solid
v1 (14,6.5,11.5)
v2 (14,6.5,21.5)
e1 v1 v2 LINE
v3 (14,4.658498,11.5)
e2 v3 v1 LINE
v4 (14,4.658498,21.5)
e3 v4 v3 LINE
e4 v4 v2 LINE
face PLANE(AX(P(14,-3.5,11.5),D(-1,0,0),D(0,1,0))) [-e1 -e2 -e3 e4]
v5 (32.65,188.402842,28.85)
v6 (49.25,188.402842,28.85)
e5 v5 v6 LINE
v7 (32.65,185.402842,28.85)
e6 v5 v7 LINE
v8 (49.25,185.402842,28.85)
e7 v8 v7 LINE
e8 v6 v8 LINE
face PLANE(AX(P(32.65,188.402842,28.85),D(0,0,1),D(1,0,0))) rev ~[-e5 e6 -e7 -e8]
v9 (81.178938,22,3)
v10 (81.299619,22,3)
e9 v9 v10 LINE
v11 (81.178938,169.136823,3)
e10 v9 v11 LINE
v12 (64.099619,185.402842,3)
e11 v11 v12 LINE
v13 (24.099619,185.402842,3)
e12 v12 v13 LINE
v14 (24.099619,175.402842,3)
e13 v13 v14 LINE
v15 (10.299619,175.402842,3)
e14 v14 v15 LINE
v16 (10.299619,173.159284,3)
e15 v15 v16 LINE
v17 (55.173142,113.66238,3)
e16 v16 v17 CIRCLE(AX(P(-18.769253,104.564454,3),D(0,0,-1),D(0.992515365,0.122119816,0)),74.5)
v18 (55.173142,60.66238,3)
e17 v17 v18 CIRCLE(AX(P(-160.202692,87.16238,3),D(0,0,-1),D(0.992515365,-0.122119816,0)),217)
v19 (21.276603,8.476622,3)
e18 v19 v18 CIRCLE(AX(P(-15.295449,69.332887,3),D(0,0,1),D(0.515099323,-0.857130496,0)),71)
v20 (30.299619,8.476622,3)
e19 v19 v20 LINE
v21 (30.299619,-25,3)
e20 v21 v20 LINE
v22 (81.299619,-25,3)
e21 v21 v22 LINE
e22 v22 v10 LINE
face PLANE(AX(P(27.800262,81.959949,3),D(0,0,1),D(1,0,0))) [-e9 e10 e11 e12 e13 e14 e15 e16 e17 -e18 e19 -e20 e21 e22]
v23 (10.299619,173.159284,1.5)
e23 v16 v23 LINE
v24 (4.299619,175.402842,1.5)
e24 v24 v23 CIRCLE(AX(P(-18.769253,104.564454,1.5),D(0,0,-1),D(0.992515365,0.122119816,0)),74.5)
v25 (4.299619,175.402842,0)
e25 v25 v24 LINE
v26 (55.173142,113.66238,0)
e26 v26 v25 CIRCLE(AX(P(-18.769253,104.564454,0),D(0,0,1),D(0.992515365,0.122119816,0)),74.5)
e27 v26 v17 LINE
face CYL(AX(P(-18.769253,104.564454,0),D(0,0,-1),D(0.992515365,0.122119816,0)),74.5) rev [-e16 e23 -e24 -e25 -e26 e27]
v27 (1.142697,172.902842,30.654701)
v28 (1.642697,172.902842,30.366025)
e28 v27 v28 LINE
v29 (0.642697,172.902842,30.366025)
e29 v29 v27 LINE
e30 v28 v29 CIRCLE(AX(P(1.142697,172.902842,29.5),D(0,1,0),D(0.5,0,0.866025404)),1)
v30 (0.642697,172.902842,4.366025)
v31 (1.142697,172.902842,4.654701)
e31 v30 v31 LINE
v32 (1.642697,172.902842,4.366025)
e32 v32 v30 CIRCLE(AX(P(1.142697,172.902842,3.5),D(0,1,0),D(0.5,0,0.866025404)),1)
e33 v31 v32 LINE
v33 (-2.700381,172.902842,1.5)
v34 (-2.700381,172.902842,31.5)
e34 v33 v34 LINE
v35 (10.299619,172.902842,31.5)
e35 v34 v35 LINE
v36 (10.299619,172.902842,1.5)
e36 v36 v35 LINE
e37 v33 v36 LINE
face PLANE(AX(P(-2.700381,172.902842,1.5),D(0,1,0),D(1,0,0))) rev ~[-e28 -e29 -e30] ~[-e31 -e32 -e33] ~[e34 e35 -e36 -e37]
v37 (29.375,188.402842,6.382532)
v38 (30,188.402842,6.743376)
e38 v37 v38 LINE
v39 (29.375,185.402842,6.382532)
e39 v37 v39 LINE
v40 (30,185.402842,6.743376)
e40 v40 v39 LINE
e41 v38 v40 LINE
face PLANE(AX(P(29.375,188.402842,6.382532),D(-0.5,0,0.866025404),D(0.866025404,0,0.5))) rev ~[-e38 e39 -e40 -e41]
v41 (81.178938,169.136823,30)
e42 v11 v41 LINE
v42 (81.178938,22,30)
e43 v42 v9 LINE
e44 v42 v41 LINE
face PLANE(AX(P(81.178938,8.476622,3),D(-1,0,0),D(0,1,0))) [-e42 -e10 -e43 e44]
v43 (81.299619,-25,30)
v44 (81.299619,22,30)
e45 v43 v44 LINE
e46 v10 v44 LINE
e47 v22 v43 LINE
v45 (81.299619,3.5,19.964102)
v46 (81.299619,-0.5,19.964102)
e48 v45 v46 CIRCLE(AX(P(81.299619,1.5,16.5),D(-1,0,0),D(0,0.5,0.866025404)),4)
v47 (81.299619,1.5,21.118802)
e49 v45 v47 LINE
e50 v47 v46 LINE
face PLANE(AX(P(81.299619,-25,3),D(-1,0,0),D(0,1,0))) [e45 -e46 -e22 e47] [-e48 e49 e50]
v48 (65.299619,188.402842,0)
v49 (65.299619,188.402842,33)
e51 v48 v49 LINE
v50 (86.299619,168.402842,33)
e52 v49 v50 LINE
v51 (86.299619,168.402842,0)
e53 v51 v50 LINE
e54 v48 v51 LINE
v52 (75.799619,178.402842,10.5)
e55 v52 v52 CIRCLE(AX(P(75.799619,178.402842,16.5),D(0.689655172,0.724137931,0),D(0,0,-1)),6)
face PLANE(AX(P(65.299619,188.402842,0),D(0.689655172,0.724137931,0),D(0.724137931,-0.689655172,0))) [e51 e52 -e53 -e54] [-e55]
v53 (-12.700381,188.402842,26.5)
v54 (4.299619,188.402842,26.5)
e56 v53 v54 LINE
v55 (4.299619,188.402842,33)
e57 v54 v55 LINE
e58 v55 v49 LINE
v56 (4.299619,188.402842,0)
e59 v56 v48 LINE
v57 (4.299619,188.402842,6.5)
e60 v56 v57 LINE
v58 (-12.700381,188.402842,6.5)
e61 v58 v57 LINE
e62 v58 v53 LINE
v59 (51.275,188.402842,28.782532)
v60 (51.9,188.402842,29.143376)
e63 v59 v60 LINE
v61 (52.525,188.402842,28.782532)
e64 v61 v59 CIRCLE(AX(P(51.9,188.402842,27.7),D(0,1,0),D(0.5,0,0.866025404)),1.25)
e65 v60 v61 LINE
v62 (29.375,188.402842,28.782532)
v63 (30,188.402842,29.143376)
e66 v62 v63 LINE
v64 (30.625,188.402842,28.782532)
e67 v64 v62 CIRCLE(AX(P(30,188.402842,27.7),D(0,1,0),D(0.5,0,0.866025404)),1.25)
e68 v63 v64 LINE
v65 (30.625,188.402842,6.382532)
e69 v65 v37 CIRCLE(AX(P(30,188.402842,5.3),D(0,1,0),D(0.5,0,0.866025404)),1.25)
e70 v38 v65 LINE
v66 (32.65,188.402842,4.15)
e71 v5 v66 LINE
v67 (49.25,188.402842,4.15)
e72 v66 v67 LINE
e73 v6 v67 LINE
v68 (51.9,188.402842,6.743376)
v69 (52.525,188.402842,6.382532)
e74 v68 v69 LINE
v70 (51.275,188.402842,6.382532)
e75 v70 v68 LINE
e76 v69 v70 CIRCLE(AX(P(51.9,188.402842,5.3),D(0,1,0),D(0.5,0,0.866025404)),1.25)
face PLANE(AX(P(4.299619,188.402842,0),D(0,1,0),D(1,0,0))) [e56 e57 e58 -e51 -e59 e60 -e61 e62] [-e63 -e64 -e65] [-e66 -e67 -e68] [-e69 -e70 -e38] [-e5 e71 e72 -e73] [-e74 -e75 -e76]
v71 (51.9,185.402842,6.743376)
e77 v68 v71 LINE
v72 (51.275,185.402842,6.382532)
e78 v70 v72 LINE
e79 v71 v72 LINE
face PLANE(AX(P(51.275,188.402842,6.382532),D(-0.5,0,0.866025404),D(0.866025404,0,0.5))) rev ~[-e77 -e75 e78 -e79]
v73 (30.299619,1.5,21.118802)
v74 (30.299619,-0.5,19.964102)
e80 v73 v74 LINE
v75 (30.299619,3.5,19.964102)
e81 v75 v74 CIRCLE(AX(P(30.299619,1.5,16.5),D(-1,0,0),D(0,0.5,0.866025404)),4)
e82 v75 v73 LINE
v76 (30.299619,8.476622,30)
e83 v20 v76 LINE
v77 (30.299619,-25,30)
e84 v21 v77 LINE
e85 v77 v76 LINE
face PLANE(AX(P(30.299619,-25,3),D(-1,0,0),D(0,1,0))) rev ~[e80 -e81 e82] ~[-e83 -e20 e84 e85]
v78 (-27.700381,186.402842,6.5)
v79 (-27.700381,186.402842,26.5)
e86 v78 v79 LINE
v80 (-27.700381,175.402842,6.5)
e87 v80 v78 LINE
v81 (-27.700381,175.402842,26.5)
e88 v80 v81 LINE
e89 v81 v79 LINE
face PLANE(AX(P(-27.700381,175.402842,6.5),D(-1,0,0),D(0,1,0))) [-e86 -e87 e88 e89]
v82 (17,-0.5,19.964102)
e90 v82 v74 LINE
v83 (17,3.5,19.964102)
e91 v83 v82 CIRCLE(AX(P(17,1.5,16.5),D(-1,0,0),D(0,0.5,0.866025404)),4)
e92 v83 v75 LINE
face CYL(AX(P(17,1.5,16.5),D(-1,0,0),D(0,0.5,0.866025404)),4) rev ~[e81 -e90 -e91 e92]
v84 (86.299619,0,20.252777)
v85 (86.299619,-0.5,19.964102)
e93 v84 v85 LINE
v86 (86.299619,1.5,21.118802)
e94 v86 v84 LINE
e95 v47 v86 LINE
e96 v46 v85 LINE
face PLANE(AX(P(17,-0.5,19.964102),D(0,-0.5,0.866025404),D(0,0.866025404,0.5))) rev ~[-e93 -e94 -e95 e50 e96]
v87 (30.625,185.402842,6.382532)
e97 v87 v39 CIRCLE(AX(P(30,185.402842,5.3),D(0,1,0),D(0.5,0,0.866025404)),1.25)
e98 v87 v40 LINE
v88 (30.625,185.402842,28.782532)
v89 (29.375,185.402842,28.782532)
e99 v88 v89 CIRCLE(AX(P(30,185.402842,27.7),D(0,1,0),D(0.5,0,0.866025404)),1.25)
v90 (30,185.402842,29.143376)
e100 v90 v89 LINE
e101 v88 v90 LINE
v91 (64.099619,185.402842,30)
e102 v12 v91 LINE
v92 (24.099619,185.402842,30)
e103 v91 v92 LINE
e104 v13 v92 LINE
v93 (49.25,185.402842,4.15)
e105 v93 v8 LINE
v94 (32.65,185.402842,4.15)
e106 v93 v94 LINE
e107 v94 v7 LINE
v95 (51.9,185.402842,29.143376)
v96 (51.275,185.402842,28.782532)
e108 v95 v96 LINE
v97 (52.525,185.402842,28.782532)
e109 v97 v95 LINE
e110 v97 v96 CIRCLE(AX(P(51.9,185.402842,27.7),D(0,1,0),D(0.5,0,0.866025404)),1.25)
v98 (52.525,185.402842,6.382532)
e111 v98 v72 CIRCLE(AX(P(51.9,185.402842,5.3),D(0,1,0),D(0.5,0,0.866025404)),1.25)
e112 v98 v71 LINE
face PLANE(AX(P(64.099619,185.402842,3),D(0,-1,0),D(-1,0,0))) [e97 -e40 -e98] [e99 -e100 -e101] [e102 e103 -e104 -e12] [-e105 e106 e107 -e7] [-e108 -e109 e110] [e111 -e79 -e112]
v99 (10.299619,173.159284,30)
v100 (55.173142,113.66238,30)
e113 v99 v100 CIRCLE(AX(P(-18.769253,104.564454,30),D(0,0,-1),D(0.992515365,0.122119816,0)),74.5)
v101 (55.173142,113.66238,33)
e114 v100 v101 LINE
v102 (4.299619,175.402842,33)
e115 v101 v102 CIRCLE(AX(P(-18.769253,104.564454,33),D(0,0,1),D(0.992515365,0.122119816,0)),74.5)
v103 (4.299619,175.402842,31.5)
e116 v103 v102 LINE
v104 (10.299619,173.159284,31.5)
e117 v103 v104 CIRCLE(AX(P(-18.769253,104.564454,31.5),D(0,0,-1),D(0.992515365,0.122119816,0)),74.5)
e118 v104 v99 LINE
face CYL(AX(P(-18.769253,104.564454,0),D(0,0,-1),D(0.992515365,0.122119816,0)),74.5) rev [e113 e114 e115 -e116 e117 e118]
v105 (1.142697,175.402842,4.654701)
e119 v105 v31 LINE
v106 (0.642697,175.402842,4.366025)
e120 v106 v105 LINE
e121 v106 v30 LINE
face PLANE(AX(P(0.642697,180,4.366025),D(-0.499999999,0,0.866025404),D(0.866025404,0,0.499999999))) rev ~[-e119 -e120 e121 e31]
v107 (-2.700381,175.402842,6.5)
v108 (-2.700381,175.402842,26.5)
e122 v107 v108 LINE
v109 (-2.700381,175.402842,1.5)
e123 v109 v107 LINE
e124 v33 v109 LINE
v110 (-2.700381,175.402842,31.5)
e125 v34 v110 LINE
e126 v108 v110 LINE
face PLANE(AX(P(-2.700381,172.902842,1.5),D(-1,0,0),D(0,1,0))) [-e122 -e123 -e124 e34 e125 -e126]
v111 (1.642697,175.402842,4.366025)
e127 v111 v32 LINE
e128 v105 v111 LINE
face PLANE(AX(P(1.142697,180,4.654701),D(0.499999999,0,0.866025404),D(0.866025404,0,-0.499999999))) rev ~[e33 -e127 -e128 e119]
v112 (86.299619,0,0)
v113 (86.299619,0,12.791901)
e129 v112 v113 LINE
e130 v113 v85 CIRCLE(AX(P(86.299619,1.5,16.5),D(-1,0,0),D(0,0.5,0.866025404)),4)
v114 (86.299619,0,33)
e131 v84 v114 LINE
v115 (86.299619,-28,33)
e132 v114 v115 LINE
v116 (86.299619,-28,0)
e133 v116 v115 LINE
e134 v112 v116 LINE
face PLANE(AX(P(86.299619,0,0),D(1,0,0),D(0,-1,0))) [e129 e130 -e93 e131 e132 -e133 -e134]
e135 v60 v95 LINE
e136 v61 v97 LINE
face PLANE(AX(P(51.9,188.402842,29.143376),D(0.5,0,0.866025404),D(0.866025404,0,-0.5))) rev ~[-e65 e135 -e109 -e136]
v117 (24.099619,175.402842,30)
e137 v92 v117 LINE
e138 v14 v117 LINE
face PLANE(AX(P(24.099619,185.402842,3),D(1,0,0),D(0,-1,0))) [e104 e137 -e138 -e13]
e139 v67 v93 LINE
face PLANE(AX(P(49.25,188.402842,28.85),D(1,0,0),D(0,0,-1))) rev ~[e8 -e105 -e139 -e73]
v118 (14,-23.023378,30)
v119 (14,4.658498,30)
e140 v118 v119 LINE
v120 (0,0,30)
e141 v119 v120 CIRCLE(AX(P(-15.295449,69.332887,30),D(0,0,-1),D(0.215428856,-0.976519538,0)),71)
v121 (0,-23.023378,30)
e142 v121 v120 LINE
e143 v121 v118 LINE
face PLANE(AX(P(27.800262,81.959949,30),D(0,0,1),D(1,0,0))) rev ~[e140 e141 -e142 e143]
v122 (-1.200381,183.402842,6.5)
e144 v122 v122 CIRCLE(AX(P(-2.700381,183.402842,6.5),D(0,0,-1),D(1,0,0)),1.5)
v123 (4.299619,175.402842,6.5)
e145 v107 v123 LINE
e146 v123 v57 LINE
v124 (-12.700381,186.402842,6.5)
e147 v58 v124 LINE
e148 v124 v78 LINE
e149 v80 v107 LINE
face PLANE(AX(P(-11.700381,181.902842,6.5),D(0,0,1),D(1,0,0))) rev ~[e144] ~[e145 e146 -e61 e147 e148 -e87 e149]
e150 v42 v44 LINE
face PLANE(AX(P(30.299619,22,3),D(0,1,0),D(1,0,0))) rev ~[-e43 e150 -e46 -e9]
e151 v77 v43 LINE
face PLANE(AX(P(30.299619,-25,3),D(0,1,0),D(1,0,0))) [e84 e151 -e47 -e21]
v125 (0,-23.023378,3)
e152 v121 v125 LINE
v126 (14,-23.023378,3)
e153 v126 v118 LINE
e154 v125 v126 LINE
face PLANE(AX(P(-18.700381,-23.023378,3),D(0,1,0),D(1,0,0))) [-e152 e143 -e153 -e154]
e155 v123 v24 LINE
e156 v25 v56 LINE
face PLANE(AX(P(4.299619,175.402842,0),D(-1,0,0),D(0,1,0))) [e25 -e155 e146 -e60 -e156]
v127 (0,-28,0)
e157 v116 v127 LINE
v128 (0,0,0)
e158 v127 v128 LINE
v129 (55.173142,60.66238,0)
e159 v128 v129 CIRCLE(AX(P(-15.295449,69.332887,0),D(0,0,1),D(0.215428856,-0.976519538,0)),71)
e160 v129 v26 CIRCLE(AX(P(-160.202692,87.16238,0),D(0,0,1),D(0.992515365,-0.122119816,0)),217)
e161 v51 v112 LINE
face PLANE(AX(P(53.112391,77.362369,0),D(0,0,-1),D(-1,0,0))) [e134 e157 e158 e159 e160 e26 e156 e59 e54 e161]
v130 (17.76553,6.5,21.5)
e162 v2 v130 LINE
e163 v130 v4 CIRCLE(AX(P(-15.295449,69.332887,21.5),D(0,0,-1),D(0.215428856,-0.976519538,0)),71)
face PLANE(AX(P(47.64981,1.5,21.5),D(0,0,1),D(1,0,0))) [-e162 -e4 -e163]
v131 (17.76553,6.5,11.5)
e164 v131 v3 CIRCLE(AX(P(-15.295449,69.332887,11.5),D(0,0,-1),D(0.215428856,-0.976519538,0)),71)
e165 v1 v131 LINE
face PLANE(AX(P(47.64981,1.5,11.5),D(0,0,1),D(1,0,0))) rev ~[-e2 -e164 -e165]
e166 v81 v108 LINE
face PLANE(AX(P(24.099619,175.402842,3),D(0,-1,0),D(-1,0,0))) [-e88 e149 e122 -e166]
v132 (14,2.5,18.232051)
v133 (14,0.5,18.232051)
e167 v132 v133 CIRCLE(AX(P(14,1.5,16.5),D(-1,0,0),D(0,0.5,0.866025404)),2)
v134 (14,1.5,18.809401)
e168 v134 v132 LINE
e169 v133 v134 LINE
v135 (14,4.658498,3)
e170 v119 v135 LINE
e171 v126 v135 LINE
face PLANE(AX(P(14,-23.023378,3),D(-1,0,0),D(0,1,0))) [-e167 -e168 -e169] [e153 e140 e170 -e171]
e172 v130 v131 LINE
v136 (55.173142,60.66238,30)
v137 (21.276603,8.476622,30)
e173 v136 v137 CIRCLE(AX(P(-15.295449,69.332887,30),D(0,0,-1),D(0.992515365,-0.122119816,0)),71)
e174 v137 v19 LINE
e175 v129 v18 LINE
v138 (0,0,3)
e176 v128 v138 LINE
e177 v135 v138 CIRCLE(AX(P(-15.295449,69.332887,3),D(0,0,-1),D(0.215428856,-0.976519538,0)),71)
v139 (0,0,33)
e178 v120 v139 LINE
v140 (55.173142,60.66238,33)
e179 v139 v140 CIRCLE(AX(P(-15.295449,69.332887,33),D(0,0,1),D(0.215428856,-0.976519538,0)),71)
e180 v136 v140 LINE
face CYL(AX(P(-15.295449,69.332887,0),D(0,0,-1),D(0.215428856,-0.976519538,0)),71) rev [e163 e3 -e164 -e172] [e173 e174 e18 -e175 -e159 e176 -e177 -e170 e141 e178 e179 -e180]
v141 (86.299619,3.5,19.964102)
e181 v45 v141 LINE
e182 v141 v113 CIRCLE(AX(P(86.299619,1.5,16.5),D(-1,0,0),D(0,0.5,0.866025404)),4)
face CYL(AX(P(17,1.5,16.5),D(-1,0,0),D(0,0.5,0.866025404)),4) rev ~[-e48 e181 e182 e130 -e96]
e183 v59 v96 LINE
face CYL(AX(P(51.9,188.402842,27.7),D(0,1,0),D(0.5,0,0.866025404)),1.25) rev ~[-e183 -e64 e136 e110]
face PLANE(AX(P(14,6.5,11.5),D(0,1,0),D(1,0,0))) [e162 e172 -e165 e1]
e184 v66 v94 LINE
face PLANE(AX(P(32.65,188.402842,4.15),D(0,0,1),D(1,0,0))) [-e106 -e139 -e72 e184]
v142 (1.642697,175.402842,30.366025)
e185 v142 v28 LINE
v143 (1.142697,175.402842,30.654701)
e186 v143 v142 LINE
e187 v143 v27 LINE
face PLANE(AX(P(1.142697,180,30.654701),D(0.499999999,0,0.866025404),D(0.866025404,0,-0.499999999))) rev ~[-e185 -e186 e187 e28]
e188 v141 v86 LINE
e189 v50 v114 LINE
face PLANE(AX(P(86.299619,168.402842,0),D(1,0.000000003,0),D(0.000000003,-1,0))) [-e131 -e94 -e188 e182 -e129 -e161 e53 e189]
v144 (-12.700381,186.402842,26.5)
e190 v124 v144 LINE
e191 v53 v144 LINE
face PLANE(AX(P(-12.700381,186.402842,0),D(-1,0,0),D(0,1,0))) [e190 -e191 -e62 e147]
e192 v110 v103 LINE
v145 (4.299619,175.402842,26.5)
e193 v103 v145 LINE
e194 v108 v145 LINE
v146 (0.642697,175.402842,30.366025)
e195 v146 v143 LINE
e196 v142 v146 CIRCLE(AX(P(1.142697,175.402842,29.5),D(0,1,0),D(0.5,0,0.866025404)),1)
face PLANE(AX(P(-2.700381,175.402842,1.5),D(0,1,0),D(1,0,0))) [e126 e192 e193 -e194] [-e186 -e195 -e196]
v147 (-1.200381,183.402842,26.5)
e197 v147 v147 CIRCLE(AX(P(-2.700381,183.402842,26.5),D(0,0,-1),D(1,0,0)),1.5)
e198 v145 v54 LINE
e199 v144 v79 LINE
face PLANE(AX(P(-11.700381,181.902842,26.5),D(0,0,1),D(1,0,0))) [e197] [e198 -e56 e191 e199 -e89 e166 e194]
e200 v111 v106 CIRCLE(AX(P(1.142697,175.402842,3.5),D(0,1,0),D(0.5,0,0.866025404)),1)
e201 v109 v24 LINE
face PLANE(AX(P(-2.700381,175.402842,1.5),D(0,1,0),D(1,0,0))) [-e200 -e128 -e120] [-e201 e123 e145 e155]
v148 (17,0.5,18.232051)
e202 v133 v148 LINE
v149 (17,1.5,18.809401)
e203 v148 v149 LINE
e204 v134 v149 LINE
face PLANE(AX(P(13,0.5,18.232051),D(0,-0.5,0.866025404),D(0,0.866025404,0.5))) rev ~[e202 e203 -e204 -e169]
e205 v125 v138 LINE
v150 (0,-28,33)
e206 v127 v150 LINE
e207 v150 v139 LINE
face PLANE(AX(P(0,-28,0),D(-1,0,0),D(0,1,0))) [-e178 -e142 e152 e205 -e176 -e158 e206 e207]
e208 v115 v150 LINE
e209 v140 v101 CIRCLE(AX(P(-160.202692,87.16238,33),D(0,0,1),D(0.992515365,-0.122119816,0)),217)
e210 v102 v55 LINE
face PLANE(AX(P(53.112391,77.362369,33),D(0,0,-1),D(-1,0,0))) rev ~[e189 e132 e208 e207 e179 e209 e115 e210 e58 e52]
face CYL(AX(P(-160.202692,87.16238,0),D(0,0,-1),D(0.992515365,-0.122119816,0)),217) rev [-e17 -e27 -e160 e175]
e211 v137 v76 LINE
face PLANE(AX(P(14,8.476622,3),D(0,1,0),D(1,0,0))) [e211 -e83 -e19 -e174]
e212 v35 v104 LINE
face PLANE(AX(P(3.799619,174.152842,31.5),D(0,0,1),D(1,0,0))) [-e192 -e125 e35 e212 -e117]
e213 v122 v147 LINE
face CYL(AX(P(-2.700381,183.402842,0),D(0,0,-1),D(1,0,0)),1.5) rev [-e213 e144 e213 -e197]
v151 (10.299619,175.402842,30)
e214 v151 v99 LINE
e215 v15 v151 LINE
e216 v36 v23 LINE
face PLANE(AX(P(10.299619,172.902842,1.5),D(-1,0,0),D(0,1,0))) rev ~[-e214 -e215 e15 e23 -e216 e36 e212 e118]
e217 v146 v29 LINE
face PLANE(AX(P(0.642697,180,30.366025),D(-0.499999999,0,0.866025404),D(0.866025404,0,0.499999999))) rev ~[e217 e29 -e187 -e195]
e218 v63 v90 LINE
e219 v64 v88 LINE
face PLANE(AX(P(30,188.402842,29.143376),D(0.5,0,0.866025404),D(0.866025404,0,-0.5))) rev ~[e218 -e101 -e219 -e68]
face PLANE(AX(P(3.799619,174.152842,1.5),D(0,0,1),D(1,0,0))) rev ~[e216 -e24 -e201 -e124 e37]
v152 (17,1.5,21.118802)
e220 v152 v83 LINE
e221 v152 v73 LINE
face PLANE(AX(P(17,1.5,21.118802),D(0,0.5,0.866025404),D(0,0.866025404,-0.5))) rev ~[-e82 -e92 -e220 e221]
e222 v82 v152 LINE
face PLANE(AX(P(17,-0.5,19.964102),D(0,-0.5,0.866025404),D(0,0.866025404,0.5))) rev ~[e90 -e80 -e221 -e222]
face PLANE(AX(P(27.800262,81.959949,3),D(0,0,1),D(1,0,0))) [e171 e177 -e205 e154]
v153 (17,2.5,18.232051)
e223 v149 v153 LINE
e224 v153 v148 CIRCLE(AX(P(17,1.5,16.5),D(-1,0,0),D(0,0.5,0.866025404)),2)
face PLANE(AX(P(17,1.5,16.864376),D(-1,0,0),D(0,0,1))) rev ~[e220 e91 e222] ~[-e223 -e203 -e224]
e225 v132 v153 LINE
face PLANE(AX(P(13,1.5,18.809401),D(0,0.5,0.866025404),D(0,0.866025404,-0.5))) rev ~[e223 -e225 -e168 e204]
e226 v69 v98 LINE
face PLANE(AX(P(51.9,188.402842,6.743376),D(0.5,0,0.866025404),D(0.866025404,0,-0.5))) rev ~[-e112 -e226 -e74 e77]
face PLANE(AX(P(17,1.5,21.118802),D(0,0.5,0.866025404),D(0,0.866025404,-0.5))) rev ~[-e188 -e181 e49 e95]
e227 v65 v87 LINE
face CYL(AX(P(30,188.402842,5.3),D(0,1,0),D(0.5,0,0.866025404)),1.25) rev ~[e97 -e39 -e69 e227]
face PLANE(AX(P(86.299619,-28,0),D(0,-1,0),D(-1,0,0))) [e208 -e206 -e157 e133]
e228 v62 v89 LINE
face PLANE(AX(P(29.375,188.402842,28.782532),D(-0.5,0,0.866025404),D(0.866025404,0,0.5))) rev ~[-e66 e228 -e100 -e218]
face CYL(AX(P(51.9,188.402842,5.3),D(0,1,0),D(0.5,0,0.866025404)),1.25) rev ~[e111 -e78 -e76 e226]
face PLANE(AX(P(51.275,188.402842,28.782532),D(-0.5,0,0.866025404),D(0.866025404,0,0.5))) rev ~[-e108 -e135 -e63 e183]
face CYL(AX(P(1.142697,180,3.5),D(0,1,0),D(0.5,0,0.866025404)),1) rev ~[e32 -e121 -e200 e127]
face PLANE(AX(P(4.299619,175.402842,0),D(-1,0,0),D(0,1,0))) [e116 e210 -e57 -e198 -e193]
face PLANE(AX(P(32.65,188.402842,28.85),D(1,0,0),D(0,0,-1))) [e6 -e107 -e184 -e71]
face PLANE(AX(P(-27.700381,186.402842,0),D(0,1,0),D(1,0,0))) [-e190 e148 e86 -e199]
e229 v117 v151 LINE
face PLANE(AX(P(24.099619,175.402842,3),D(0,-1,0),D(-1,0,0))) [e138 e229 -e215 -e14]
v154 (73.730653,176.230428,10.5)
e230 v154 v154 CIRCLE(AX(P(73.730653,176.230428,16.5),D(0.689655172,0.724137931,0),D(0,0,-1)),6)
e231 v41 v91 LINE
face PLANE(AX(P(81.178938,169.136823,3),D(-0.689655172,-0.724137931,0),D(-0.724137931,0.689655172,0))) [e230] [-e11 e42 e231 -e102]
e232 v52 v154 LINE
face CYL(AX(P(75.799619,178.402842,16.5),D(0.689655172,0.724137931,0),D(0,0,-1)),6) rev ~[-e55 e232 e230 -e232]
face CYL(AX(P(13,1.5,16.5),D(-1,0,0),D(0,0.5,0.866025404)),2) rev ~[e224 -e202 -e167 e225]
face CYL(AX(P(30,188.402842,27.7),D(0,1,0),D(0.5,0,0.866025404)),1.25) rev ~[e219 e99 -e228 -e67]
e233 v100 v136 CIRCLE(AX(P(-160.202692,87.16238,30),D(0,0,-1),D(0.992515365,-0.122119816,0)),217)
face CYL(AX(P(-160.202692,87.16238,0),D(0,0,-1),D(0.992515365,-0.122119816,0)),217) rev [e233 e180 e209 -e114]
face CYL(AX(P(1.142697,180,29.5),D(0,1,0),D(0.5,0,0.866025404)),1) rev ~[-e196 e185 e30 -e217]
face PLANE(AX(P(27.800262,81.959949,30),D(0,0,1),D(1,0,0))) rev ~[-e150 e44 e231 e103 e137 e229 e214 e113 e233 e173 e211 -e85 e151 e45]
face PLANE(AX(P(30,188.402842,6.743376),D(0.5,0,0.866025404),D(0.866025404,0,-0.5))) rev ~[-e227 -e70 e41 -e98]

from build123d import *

# Parameters (mm, degrees)
EXTRUDE_6_DEPTH      = 33
CUT_EXTRUDE_START    = 3
CUT_EXTRUDE_2_DEPTH  = 27
EXTRUDE_START        = 6.5
SKETCH_7_W           = 32
SKETCH_7_H           = 13
EXTRUDE_7_DEPTH      = 20
EXTRUDE_START_2      = 1.5
SKETCH_11_W          = 13
SKETCH_11_H          = 2.5
EXTRUDE_15_DEPTH     = 30
CUT_EXTRUDE_START_2  = 180
CUT_EXTRUDE_3_DEPTH  = 10
SKETCH_13_R          = 1.5
CUT_EXTRUDE_4_DEPTH  = 30
SKETCH_14_W          = 15
SKETCH_14_H          = 2
CUT_EXTRUDE_5_DEPTH  = 30
EXTRUDE_START_3      = 11.5
SKETCH_15_W          = 67.299618531
SKETCH_15_H          = 10
EXTRUDE_16_DEPTH     = 10
CUT_EXTRUDE_START_3  = 17
CUT_EXTRUDE_7_DEPTH  = 75
CUT_EXTRUDE_START_4  = 13
CUT_EXTRUDE_9_DEPTH  = 5
SKETCH_20_W          = 16.6
SKETCH_20_H          = 24.7
CUT_EXTRUDE_10_DEPTH = 5
SKETCH_21_R          = 6
CUT_EXTRUDE_11_DEPTH = 5
SKETCH_22_W          = 51
SKETCH_22_H          = 47
CUT_EXTRUDE_12_DEPTH = 27


with BuildPart() as part:
    # Эскиз1 → Бобышка-Вытянуть6 (new body)
    with BuildSketch(Plane.XY):
        with BuildLine():
            Line((4.299618531, 175.402841826), (4.299618531, 188.402841826))
            Line((4.299618531, 188.402841826), (65.299618531, 188.402841826))
            Line((65.299618531, 188.402841826), (86.299618531, 168.402841826))
            Line((86.299618531, 168.402841826), (86.299619, 0))
            Line((86.299619, 0), (86.299619, -28))
            Line((86.299619, -28), (0, -28))
            Line((0, -28), (0, 0))
            ThreePointArc((0, 0), (37.229295141, 21.561020186), (55.173142182, 60.662380285))
            ThreePointArc((55.173142182, 60.662380285), (56.797307883, 87.162380285), (55.173142182, 113.662380285))
            ThreePointArc((55.173142182, 113.662380285), (38.726552267, 151.940422917), (4.299618531, 175.402841826))
        make_face()
    extrude(amount=EXTRUDE_6_DEPTH)

    # Эскиз5 → Вырез-Вытянуть2 (cut)
    with BuildSketch(Plane.XY.offset(CUT_EXTRUDE_START)):
        Polygon((24.099618531, 175.402841826), (4.299618531, 175.402841826), (4.299618531, 169.136823089), (-18.700381469, 169.136823089), (-18.700381469, -23.02337805), (14, -23.02337805), (14, 8.47662195), (81.178938205, 8.47662195), (81.178938205, 169.136823089), (64.099618531, 185.402841826), (24.099618531, 185.402841826), align=None)
    extrude(amount=CUT_EXTRUDE_2_DEPTH, mode=Mode.SUBTRACT)

    # Эскиз7 → Бобышка-Вытянуть7 (add)
    with BuildSketch(Plane.XY.offset(EXTRUDE_START)):
        with Locations((-11.700381469, 181.902841826)):
            Rectangle(SKETCH_7_W, SKETCH_7_H)
    extrude(amount=EXTRUDE_7_DEPTH)

    # Эскиз11 → Бобышка-Вытянуть15 (add)
    with BuildSketch(Plane.XY.offset(EXTRUDE_START_2)):
        with Locations((3.799618531, 174.152841826)):
            Rectangle(SKETCH_11_W, SKETCH_11_H)
    extrude(amount=EXTRUDE_15_DEPTH)

    # Эскиз12 → Вырез-Вытянуть3 (cut)
    with BuildSketch(Plane(origin=(0, 0, 0), x_dir=(1, 0, 0), z_dir=(0, 1, 0)).offset(CUT_EXTRUDE_START_2)):
        with BuildLine():
            Line((1.142696527, -30.654700538), (1.642696527, -30.366025404))
            ThreePointArc((1.642696527, -30.366025404), (1.142696527, -28.5), (0.642696527, -30.366025404))
            Line((0.642696527, -30.366025404), (1.142696527, -30.654700538))
        make_face()
        with BuildLine():
            Line((1.142696527, -4.654700538), (1.642696527, -4.366025404))
            ThreePointArc((1.642696527, -4.366025404), (1.142696527, -2.5), (0.642696527, -4.366025404))
            Line((0.642696527, -4.366025404), (1.142696527, -4.654700538))
        make_face()
    extrude(amount=-CUT_EXTRUDE_3_DEPTH, mode=Mode.SUBTRACT)

    # Эскиз13 → Вырез-Вытянуть4 (cut)
    with BuildSketch(Plane.XY):
        with Locations((-2.700381469, 183.402841826)):
            Circle(SKETCH_13_R)
    extrude(amount=CUT_EXTRUDE_4_DEPTH, mode=Mode.SUBTRACT)

    # Эскиз14 → Вырез-Вытянуть5 (cut)
    with BuildSketch(Plane.XY):
        with Locations((-20.200381469, 187.402841826)):
            Rectangle(SKETCH_14_W, SKETCH_14_H)
    extrude(amount=CUT_EXTRUDE_5_DEPTH, mode=Mode.SUBTRACT)

    # Эскиз15 → Бобышка-Вытянуть16 (add)
    with BuildSketch(Plane.XY.offset(EXTRUDE_START_3)):
        with Locations((47.649809735, 1.5)):
            Rectangle(SKETCH_15_W, SKETCH_15_H)
    extrude(amount=EXTRUDE_16_DEPTH)

    # Эскиз17 → Вырез-Вытянуть7 (cut)
    with BuildSketch(Plane(origin=(0, 0, 0), x_dir=(0, 0, -1), z_dir=(1, 0, 0)).offset(CUT_EXTRUDE_START_3)):
        with BuildLine():
            Line((-21.118802154, 1.5), (-19.964101615, 3.5))
            ThreePointArc((-19.964101615, 3.5), (-12.5, 1.5), (-19.964101615, -0.5))
            Line((-19.964101615, -0.5), (-21.118802154, 1.5))
        make_face()
    extrude(amount=CUT_EXTRUDE_7_DEPTH, mode=Mode.SUBTRACT)

    # Эскиз18 → Вырез-Вытянуть9 (cut)
    with BuildSketch(Plane(origin=(0, 0, 0), x_dir=(0, 0, -1), z_dir=(1, 0, 0)).offset(CUT_EXTRUDE_START_4)):
        with BuildLine():
            Line((-18.809401077, 1.5), (-18.232050808, 2.5))
            ThreePointArc((-18.232050808, 2.5), (-14.5, 1.5), (-18.232050808, 0.5))
            Line((-18.232050808, 0.5), (-18.809401077, 1.5))
        make_face()
    extrude(amount=CUT_EXTRUDE_9_DEPTH, mode=Mode.SUBTRACT)

    # Эскиз20 → Вырез-Вытянуть10 (cut)
    with BuildSketch(Plane(origin=(0, 188.402841826, 0), x_dir=(1, 0, 0), z_dir=(0, 1, 0))):
        with Locations((40.95, -16.5)):
            Rectangle(SKETCH_20_W, SKETCH_20_H)
        with BuildLine():
            Line((30, -29.143375673), (30.625, -28.782531755))
            ThreePointArc((30.625, -28.782531755), (30, -26.45), (29.375, -28.782531755))
            Line((29.375, -28.782531755), (30, -29.143375673))
        make_face()
        with BuildLine():
            Line((30, -6.743375673), (30.625, -6.382531755))
            ThreePointArc((30.625, -6.382531755), (30, -4.05), (29.375, -6.382531755))
            Line((29.375, -6.382531755), (30, -6.743375673))
        make_face()
        with BuildLine():
            Line((51.9, -6.743375673), (52.525, -6.382531755))
            ThreePointArc((52.525, -6.382531755), (51.9, -4.05), (51.275, -6.382531755))
            Line((51.275, -6.382531755), (51.9, -6.743375673))
        make_face()
        with BuildLine():
            Line((51.9, -29.143375673), (52.525, -28.782531755))
            ThreePointArc((52.525, -28.782531755), (51.9, -26.45), (51.275, -28.782531755))
            Line((51.275, -28.782531755), (51.9, -29.143375673))
        make_face()
    extrude(amount=-CUT_EXTRUDE_10_DEPTH, mode=Mode.SUBTRACT)

    # Эскиз21 → Вырез-Вытянуть11 (cut)
    with BuildSketch(Plane(origin=(125.147492247, 131.404866859, 0), x_dir=(0, 0, -1), z_dir=(0.6896551724137922, 0.7241379310344839, 0))):
        with Locations((-16.5, 68.147063703)):
            Circle(SKETCH_21_R)
    extrude(amount=-CUT_EXTRUDE_11_DEPTH, mode=Mode.SUBTRACT)

    # Эскиз22 → Вырез-Вытянуть12 (cut)
    with BuildSketch(Plane.XY.offset(CUT_EXTRUDE_START)):
        with Locations((55.799619, -1.5)):
            Rectangle(SKETCH_22_W, SKETCH_22_H)
    extrude(amount=CUT_EXTRUDE_12_DEPTH, mode=Mode.SUBTRACT)


solid = part.part
